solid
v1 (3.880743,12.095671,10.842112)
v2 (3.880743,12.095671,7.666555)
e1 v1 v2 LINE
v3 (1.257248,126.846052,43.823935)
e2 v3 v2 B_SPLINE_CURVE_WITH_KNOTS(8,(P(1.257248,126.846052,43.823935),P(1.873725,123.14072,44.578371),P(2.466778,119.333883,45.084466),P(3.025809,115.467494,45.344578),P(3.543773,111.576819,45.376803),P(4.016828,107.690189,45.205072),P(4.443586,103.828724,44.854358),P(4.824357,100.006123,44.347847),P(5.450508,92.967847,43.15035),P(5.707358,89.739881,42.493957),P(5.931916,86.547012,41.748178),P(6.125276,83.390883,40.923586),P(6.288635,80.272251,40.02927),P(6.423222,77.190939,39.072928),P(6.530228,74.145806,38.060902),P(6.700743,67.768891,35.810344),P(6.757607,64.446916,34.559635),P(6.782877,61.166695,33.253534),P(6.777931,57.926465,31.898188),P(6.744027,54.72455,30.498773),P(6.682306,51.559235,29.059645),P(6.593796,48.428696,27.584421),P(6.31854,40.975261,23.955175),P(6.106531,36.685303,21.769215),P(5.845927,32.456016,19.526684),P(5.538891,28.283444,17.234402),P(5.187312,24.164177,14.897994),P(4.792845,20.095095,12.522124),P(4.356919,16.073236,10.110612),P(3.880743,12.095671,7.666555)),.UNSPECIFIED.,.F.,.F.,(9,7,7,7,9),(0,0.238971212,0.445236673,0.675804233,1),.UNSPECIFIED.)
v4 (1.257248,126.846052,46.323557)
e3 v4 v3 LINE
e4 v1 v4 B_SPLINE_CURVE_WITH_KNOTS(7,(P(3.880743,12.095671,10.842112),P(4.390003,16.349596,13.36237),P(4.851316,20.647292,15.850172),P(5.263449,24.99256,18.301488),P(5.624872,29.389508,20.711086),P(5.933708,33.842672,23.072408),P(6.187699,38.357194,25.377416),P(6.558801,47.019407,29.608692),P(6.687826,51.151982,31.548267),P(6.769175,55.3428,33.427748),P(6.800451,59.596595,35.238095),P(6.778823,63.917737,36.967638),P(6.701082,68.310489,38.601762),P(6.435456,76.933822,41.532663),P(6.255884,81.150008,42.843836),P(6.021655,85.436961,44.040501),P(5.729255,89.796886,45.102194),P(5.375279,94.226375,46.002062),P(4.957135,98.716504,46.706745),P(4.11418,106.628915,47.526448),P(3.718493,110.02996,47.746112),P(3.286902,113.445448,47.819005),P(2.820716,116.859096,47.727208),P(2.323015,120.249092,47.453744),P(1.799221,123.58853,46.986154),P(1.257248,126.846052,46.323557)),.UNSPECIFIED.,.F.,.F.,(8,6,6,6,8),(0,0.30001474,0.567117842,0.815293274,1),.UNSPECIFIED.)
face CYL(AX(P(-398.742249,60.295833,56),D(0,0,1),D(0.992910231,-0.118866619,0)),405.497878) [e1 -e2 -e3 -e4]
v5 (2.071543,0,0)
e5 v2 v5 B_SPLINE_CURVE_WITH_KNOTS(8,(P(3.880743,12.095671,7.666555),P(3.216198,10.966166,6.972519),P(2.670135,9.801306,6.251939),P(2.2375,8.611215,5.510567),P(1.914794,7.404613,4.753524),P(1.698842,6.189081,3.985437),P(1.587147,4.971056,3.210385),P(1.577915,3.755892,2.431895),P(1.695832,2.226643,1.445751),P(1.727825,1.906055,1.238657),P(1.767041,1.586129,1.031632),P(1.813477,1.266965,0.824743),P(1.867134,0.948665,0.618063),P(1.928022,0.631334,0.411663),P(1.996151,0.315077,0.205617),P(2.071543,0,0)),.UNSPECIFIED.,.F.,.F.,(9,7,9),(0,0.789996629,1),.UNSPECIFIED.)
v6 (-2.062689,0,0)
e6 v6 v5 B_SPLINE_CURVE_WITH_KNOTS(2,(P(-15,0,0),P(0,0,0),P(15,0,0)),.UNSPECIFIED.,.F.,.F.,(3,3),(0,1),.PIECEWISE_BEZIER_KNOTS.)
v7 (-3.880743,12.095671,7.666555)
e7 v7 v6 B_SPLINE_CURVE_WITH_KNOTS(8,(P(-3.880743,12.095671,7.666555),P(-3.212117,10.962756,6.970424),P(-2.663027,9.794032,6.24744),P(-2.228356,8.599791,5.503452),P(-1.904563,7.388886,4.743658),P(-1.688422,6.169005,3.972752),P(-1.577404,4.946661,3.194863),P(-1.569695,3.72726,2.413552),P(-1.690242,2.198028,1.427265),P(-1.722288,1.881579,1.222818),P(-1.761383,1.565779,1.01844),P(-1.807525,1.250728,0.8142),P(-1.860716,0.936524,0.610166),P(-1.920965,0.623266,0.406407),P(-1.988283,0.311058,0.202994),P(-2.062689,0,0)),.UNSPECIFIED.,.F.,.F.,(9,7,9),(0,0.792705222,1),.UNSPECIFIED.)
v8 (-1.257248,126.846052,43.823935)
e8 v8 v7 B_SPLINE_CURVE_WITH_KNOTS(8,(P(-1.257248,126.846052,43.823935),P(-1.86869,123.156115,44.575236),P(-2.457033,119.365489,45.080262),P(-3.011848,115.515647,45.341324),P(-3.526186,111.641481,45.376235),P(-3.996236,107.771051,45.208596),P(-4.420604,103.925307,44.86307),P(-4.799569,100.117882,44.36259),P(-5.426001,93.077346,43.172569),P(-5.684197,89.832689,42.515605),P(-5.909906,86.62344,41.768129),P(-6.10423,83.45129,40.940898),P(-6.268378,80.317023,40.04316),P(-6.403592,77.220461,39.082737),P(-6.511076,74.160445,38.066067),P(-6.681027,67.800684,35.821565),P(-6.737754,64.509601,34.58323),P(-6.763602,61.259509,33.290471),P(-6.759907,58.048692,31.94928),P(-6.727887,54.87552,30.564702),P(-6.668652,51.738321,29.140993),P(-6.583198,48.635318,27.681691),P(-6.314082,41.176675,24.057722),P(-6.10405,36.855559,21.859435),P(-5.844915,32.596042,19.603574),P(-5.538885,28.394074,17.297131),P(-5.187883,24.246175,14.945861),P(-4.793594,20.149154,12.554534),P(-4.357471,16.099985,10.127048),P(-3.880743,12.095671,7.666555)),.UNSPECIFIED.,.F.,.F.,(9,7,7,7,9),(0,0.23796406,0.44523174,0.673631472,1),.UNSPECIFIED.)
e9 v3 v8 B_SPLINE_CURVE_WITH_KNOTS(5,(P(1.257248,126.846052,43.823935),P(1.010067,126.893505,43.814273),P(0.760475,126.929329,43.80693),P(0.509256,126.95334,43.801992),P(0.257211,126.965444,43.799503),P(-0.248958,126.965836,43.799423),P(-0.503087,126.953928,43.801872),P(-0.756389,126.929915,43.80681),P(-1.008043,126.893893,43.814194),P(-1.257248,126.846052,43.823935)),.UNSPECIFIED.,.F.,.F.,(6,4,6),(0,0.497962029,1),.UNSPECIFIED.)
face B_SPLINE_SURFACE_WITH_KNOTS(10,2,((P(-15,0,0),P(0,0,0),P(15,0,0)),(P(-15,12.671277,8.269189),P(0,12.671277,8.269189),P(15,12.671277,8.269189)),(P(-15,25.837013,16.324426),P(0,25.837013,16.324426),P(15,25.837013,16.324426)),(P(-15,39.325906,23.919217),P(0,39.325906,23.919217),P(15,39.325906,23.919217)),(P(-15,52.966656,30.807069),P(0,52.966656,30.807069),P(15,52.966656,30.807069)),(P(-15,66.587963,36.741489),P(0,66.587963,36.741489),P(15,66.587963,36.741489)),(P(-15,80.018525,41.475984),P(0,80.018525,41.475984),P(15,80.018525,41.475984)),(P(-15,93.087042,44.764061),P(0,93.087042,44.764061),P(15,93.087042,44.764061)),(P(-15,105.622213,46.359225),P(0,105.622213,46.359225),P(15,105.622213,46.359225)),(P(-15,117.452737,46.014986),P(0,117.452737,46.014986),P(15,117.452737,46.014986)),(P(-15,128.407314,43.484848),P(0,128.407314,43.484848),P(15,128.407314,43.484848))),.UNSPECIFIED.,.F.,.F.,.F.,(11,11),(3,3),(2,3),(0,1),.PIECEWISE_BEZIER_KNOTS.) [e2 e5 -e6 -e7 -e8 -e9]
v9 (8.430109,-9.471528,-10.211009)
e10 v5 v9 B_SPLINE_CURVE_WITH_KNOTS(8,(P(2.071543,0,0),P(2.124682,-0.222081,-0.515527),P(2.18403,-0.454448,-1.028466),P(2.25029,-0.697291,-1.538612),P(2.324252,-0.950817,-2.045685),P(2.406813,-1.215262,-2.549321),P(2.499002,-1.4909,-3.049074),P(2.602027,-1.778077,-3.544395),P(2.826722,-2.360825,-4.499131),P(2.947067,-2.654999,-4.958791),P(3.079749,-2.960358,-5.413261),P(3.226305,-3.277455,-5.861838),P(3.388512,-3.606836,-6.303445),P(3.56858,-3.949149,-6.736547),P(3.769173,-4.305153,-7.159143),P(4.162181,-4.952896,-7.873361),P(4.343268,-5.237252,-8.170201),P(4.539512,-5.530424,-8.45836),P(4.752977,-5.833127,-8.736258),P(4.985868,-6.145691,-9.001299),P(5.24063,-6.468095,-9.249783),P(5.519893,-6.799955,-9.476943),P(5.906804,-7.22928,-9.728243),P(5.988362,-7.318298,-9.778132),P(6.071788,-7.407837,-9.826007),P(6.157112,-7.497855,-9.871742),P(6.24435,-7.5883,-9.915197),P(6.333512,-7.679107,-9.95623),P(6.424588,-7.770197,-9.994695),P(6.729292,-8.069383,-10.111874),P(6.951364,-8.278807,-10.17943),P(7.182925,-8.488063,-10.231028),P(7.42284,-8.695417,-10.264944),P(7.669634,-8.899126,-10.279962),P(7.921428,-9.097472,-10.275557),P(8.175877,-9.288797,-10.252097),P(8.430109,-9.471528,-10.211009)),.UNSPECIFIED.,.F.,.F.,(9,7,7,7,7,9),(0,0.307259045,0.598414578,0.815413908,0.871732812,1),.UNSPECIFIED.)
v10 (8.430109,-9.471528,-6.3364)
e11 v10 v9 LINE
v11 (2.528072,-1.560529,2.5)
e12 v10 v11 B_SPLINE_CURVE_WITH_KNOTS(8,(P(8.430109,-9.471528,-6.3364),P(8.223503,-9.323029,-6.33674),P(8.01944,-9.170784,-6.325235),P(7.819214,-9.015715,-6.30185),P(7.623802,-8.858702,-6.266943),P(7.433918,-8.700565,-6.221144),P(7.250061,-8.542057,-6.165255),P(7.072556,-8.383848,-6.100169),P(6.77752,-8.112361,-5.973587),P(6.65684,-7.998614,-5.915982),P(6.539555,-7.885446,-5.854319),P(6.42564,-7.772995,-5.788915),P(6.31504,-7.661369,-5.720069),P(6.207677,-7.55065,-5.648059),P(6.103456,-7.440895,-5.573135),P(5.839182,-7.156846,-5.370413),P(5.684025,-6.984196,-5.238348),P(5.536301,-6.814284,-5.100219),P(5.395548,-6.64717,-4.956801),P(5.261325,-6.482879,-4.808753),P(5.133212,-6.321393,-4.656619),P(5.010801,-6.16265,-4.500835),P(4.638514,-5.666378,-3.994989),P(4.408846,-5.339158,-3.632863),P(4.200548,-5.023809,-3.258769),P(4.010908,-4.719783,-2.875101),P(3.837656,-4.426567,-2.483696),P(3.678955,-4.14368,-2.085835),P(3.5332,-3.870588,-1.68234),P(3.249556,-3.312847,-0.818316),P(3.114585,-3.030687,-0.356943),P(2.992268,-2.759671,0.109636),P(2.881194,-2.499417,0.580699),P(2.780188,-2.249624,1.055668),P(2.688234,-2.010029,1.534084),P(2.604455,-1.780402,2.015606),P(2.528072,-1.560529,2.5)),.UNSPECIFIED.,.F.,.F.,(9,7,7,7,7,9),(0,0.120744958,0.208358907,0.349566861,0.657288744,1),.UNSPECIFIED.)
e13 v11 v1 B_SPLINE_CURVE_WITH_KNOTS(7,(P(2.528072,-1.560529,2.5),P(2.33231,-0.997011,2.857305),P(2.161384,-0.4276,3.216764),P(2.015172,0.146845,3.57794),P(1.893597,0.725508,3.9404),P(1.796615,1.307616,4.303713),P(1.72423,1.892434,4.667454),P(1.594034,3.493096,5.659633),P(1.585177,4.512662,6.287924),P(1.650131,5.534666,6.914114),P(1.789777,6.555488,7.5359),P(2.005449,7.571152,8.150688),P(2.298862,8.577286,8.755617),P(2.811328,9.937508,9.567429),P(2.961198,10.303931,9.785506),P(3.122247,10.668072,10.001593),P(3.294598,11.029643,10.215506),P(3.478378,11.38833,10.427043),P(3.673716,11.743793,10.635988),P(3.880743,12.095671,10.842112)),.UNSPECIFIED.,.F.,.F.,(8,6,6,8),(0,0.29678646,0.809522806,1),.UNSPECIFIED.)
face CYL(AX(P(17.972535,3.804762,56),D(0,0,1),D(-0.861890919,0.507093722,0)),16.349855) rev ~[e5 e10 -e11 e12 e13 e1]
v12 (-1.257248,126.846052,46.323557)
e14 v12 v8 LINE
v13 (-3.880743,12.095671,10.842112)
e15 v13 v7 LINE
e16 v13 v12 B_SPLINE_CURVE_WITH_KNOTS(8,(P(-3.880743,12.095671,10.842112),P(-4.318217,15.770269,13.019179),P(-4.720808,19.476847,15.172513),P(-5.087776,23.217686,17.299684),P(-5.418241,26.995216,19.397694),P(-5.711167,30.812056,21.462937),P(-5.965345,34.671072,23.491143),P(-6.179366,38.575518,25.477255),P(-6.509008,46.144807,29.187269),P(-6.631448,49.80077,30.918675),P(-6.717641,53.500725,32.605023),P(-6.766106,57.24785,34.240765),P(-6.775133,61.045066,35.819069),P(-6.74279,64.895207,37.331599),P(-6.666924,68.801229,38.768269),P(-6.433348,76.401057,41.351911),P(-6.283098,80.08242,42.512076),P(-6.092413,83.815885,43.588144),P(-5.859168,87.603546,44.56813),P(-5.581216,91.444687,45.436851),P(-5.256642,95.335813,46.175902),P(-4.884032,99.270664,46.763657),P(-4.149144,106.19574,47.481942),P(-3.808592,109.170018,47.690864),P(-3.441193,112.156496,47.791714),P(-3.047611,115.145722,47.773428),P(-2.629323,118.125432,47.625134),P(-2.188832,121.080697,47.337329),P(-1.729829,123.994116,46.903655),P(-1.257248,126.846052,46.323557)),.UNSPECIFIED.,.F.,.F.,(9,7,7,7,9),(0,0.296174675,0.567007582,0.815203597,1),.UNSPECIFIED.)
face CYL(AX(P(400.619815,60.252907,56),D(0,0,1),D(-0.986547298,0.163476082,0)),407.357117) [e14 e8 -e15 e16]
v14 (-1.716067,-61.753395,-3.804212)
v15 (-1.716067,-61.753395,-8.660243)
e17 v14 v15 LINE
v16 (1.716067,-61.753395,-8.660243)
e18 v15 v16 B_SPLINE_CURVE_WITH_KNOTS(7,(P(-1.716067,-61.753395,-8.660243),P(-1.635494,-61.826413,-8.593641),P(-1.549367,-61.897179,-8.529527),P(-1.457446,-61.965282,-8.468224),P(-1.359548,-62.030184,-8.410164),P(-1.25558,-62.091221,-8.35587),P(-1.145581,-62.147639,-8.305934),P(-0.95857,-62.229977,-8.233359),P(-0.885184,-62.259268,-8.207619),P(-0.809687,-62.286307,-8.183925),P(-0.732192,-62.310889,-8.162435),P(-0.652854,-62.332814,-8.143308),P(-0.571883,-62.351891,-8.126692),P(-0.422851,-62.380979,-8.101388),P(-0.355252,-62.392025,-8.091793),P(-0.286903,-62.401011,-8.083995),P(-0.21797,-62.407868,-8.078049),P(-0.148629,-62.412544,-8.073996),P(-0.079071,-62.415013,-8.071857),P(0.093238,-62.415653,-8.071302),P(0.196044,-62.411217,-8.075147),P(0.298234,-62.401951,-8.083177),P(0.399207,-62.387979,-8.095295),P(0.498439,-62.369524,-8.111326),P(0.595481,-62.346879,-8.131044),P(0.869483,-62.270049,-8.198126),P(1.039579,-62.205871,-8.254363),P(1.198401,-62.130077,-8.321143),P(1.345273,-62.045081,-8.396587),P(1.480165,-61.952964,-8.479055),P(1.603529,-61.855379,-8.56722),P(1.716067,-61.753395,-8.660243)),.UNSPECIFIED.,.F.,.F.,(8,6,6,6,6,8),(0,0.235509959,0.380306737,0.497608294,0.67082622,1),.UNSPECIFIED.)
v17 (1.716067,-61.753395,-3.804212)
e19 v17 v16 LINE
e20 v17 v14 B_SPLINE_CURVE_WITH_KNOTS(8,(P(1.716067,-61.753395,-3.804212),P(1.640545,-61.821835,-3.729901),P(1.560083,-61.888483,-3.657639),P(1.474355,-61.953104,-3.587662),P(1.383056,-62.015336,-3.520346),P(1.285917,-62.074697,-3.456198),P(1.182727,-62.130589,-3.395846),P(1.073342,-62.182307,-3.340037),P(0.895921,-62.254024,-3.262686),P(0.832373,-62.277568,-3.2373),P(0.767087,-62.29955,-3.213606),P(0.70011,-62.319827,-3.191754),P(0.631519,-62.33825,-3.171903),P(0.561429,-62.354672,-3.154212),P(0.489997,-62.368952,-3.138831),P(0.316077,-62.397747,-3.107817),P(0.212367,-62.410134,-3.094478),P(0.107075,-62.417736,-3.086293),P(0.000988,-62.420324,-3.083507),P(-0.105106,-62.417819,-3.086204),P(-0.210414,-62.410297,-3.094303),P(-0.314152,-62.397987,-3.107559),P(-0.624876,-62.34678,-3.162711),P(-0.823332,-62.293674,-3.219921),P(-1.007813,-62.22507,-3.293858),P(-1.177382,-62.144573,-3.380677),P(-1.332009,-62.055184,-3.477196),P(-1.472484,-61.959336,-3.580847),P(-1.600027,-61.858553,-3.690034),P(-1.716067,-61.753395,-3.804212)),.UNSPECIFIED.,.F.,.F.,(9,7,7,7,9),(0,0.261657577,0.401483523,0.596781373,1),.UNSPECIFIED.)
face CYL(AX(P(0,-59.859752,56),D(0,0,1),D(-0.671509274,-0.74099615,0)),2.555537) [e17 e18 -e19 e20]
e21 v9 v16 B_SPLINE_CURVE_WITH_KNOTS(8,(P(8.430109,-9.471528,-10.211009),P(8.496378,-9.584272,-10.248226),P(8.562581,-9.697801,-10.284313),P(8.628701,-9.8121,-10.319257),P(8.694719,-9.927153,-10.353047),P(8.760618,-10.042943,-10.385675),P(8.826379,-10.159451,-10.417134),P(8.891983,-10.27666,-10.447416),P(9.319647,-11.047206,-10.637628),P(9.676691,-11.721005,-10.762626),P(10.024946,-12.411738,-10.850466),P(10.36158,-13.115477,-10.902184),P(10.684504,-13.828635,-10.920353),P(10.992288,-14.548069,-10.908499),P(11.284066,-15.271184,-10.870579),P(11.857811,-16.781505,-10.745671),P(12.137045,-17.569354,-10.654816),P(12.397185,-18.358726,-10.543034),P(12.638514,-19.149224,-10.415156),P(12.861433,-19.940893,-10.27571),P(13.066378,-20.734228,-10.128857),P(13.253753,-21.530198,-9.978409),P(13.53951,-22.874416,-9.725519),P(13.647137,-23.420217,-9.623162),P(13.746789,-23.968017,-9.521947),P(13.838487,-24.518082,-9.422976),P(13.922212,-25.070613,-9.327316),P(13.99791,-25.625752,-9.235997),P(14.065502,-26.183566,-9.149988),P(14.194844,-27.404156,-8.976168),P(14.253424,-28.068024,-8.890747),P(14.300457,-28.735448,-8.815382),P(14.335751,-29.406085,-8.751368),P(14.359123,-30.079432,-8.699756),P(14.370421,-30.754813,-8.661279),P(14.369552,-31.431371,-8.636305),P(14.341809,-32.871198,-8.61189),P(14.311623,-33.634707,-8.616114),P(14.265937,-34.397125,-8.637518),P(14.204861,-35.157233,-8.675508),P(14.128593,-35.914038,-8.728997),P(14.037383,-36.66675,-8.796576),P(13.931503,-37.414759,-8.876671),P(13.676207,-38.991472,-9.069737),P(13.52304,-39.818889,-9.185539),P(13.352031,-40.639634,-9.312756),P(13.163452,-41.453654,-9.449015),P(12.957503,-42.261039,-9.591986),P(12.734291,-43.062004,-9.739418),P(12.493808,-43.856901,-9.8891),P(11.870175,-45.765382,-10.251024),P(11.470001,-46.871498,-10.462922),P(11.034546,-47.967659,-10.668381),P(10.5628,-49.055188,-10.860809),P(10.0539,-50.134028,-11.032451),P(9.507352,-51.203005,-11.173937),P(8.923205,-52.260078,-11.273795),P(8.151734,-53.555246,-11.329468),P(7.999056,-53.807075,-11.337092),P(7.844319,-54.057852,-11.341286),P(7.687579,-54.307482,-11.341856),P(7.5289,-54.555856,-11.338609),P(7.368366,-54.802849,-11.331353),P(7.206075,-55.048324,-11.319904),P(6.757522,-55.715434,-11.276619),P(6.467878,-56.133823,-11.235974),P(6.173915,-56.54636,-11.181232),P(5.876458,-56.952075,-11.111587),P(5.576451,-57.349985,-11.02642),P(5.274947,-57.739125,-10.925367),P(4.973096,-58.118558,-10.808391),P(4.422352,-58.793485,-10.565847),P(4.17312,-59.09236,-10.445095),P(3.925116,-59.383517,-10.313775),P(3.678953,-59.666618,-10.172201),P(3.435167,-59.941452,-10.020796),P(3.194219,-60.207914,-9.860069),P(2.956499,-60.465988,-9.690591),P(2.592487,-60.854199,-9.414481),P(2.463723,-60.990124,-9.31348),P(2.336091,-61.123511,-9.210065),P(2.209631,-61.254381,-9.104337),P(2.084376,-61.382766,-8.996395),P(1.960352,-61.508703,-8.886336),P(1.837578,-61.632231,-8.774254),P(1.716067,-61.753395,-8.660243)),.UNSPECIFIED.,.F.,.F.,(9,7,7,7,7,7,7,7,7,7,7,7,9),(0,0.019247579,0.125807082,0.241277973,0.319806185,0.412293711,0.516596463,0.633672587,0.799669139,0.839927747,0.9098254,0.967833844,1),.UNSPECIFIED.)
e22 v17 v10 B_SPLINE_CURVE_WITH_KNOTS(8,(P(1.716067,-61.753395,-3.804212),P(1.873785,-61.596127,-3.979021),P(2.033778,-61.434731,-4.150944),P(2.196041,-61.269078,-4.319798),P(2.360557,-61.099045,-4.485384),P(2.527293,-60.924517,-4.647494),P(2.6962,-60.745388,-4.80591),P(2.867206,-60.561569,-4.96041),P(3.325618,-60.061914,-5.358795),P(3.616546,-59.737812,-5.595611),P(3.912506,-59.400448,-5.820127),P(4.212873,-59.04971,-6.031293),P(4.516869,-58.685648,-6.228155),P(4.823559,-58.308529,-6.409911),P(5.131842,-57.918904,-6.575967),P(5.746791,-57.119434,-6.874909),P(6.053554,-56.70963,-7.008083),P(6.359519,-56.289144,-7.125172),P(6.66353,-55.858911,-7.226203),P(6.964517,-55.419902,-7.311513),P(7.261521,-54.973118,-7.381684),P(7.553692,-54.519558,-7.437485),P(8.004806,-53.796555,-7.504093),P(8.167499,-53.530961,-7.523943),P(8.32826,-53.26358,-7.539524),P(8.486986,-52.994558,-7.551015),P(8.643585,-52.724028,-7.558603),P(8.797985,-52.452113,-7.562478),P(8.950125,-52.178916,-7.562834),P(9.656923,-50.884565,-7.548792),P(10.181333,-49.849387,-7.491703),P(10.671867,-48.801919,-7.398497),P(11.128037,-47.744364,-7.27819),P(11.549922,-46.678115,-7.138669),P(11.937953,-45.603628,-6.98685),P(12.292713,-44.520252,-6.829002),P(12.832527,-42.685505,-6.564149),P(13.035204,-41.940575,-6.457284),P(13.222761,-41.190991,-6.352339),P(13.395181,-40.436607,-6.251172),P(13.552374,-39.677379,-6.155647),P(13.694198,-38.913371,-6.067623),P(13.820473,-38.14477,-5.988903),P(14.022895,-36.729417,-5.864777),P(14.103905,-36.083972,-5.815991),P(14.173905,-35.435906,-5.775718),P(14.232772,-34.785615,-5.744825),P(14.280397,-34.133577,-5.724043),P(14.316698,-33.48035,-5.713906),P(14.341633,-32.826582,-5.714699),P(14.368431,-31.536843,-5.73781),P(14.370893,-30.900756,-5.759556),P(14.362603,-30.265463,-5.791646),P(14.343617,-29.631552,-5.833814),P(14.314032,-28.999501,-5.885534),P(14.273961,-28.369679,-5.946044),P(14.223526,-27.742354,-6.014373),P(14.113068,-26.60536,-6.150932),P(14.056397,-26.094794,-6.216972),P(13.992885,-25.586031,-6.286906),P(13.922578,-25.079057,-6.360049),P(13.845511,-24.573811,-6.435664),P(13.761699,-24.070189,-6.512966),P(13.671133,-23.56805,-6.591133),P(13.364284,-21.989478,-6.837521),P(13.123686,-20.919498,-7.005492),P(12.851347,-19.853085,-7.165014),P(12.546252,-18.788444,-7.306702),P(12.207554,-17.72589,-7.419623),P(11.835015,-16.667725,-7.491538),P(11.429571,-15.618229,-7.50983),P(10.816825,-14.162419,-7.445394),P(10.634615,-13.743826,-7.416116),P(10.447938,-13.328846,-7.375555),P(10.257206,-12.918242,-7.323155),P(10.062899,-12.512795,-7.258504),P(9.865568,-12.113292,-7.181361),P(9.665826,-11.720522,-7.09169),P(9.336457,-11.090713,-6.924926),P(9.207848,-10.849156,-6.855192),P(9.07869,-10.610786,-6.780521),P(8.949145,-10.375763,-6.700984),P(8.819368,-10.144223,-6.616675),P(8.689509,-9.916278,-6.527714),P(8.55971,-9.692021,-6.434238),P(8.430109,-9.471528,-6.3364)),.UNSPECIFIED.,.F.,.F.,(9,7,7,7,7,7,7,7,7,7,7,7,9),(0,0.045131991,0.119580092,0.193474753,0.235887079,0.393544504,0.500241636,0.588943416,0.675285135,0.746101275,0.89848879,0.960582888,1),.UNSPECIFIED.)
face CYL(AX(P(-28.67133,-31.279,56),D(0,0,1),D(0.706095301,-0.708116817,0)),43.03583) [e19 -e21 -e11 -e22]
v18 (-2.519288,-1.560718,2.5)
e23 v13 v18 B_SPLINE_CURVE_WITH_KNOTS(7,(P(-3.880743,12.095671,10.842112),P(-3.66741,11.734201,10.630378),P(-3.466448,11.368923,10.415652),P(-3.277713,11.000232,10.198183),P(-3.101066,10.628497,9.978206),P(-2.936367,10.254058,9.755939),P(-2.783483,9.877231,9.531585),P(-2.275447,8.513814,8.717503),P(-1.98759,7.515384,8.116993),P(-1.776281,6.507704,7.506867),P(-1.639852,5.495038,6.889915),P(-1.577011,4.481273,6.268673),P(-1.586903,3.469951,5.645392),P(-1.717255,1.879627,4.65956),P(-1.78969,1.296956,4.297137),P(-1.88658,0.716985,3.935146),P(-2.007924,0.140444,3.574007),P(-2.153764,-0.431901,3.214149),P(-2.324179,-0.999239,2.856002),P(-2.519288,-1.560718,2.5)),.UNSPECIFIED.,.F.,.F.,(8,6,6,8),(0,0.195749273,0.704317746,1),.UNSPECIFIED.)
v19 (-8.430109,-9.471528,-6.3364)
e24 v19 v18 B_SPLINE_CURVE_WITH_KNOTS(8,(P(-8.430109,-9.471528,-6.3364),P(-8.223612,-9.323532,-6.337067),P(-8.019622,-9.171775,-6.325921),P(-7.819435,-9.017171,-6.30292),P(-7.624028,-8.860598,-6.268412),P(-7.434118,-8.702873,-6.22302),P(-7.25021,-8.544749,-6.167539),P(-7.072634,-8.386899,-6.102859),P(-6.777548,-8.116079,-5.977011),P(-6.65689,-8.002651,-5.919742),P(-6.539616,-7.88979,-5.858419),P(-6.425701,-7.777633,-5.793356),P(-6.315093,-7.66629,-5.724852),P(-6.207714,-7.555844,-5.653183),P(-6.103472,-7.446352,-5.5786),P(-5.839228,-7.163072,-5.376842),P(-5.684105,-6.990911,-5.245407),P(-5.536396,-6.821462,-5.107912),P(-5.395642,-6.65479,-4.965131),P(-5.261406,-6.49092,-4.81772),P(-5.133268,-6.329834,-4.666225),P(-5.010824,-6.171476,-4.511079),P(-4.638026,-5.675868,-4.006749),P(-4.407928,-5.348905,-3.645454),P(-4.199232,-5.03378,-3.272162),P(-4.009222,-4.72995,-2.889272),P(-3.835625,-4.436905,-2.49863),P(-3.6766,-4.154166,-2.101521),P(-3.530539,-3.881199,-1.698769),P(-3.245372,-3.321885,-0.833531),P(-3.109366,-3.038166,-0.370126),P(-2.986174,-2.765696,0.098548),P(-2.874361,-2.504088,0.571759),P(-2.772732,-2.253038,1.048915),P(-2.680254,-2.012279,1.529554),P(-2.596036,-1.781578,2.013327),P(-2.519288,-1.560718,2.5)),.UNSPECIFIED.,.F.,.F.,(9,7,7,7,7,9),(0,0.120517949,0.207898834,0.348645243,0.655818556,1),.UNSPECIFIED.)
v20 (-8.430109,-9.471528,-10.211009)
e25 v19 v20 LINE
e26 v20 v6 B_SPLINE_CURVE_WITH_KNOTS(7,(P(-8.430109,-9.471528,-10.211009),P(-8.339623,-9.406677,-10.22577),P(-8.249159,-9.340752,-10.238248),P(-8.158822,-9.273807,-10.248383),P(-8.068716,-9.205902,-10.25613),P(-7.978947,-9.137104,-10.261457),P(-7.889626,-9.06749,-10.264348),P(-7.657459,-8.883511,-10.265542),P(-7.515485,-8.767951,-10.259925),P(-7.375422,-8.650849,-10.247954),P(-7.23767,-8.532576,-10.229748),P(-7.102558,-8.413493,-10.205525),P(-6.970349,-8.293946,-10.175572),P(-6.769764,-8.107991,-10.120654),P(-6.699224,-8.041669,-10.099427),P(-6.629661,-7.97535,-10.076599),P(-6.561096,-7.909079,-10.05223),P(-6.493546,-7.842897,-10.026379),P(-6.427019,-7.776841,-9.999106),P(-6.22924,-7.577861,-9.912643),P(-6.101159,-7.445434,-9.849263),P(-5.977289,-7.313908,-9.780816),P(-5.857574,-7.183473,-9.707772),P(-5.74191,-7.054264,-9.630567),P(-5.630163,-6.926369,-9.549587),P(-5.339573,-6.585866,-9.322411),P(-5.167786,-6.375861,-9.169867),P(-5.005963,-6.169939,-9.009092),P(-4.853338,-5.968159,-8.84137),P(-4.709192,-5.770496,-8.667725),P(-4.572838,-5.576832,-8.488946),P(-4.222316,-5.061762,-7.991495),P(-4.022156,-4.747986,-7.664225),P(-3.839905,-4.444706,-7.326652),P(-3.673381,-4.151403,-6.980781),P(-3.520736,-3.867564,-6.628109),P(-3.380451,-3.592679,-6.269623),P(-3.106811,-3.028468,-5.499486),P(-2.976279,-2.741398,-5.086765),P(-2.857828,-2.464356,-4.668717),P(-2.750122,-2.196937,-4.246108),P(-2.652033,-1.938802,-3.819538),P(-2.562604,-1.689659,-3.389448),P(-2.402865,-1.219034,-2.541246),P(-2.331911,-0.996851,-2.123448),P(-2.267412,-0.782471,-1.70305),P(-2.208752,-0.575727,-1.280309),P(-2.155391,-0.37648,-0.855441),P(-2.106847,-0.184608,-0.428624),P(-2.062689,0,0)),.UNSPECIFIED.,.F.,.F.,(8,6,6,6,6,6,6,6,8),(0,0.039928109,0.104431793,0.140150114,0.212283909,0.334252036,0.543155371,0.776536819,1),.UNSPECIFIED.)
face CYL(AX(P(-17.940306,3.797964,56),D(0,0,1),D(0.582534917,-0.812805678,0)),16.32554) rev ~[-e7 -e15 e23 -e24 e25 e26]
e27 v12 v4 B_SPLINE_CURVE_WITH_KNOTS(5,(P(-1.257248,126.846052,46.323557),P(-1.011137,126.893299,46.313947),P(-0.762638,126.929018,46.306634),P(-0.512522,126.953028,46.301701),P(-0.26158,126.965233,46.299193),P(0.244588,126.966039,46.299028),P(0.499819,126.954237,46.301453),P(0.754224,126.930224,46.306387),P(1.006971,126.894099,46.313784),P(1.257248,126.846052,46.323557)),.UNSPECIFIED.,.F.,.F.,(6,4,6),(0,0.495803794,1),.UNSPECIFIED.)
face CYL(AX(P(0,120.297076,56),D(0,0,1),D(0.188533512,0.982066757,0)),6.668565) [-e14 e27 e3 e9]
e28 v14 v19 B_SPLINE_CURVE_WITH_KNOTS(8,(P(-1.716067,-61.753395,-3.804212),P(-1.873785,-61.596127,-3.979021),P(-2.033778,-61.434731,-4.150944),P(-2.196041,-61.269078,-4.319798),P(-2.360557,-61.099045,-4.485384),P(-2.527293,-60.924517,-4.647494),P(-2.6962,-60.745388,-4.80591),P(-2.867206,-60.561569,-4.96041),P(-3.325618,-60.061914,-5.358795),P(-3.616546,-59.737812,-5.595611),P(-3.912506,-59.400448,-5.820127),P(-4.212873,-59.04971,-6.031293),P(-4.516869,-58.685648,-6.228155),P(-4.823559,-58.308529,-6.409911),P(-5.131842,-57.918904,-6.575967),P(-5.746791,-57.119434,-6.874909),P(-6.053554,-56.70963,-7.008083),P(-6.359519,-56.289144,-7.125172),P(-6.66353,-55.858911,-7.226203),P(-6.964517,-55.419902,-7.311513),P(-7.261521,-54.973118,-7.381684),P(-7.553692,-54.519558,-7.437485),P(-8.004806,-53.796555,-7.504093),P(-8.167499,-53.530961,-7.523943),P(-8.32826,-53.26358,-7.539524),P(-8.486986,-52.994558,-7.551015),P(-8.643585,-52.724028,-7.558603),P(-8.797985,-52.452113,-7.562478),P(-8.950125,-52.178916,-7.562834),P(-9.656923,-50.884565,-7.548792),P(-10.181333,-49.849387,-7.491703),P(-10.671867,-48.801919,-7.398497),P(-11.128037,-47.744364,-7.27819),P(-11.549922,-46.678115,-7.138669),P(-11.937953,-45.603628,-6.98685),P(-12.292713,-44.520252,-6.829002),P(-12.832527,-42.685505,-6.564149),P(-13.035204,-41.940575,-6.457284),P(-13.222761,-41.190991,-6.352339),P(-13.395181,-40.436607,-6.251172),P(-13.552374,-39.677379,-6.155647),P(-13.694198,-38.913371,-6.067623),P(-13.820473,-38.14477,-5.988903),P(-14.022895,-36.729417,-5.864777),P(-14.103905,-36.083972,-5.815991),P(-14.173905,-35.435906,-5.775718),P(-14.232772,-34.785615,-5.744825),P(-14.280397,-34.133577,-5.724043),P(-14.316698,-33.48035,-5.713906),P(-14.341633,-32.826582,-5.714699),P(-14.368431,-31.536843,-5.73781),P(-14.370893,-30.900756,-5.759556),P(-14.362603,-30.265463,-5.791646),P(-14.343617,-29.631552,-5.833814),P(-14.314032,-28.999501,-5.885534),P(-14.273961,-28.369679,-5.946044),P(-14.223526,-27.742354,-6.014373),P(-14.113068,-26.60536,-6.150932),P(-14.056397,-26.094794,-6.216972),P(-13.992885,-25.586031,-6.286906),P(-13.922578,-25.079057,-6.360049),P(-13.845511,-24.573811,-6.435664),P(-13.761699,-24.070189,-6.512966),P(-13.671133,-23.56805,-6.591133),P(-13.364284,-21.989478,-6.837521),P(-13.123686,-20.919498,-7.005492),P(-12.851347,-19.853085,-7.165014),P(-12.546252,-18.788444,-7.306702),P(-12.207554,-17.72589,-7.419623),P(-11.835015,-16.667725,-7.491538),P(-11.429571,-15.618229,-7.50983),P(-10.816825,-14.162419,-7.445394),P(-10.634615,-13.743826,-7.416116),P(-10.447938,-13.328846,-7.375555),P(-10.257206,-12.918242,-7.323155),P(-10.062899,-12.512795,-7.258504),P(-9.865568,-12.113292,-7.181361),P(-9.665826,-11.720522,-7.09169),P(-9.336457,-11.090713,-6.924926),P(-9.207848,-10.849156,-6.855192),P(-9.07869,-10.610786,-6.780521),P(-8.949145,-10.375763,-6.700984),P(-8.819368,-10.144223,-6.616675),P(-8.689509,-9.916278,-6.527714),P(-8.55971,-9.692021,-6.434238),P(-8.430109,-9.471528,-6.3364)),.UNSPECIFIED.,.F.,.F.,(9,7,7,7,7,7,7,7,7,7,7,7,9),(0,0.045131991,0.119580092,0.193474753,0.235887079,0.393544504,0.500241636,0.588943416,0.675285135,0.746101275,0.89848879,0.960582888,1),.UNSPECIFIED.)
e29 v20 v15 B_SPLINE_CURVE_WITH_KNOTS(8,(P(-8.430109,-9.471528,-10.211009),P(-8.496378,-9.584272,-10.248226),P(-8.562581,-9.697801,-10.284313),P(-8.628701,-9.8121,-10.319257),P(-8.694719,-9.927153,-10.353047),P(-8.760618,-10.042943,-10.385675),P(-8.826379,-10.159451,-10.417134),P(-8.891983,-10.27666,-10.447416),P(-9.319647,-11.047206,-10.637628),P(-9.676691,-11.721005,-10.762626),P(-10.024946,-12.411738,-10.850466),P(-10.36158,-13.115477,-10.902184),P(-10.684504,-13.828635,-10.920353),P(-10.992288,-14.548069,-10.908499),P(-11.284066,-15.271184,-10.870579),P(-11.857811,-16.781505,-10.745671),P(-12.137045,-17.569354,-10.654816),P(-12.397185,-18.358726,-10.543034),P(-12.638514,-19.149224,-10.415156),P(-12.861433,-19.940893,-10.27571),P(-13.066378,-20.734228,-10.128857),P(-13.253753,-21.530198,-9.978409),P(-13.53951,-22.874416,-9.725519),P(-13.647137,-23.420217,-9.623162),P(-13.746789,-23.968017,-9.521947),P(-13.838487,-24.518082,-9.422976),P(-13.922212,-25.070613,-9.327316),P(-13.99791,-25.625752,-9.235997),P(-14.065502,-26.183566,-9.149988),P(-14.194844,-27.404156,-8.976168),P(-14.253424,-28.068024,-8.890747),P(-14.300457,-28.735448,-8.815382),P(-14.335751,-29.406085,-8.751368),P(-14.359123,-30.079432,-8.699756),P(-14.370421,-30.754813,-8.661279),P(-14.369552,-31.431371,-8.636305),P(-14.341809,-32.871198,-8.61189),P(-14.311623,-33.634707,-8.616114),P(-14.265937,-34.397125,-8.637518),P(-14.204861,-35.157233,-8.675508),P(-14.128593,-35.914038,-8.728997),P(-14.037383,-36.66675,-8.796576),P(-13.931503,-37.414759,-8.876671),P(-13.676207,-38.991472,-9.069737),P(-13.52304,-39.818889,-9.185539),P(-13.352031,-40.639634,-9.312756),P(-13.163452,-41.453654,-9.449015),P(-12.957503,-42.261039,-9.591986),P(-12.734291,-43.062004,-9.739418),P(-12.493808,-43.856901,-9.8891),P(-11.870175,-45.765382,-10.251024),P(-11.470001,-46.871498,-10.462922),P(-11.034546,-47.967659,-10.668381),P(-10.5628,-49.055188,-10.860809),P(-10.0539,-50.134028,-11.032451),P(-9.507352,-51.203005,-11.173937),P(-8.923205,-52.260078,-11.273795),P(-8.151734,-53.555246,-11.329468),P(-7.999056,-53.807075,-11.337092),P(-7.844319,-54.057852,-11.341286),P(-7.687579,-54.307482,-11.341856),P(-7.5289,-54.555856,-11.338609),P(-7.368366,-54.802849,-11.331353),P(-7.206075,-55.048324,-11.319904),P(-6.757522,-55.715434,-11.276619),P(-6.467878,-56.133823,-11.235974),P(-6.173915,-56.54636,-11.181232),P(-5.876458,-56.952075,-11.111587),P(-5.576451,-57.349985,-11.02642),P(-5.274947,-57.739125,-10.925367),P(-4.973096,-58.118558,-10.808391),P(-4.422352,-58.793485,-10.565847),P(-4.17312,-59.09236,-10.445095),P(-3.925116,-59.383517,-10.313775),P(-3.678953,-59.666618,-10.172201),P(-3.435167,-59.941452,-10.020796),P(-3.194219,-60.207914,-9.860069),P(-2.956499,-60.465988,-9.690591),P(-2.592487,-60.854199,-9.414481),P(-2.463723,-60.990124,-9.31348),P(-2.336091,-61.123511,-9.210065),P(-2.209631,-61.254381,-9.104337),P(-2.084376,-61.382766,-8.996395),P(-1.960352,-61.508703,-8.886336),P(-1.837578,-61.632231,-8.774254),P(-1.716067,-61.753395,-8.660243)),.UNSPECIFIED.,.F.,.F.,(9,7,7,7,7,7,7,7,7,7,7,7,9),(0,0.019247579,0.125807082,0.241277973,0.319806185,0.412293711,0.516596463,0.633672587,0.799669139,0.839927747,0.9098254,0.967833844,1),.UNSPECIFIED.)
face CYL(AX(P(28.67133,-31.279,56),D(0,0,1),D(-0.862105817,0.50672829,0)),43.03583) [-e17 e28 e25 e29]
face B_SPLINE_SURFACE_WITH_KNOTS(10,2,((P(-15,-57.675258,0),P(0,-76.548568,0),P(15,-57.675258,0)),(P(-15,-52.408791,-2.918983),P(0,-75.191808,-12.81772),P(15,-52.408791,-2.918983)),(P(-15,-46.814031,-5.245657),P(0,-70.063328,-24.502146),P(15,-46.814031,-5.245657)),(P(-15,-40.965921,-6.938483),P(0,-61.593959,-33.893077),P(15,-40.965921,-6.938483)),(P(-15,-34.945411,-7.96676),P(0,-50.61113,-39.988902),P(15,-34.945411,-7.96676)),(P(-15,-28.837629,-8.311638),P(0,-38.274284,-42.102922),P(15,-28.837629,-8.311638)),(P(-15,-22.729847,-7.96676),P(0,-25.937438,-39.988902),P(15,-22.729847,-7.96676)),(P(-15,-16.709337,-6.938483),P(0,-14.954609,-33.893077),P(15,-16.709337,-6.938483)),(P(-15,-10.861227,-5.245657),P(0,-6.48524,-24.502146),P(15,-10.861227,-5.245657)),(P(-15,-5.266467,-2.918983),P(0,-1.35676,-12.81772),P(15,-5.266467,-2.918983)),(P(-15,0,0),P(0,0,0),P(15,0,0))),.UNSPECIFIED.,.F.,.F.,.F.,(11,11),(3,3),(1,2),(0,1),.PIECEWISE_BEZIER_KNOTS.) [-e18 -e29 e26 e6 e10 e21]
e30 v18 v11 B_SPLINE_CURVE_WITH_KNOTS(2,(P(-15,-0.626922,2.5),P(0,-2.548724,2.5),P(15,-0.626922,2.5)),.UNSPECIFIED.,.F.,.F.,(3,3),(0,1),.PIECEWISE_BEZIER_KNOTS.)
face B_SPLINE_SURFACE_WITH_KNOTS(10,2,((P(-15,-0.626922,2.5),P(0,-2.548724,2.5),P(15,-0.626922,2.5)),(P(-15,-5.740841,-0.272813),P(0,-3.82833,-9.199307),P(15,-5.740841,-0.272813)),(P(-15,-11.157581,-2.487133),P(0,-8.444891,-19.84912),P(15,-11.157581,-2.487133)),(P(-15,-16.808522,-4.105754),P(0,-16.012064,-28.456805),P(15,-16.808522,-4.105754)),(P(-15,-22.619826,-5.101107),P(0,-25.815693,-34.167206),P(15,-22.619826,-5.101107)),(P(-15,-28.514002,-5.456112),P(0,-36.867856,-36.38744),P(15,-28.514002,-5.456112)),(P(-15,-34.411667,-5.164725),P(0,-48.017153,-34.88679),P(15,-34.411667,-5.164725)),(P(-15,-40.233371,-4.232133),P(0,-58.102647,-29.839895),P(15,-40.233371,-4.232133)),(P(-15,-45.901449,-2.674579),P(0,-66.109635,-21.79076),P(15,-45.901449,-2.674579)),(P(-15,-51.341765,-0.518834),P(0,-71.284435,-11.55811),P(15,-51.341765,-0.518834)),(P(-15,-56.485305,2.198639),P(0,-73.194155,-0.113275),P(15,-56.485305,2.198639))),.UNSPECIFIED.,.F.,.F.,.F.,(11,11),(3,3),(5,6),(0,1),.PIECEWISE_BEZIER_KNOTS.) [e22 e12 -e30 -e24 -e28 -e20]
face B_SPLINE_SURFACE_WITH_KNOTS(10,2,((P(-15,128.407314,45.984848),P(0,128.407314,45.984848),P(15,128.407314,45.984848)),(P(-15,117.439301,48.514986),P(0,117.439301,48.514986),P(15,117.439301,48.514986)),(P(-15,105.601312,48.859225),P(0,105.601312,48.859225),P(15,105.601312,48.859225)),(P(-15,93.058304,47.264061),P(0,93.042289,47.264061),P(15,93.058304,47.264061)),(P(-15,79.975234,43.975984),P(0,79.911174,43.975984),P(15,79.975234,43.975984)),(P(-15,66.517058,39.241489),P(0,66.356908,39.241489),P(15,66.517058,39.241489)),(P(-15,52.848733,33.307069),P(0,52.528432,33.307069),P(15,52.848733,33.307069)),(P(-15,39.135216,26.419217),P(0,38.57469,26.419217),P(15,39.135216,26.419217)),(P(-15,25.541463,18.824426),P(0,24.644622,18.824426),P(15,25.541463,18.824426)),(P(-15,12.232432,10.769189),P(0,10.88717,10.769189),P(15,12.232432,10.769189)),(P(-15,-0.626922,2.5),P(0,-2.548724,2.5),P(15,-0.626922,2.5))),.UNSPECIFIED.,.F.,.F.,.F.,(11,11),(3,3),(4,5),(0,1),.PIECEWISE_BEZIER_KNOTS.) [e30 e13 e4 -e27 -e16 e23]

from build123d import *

# Parameters (mm, degrees)
EXTRUDE003_DEPTH = 80


with BuildPart() as extrude003:
    # Sketch005 → Extrude003 (new body)
    with BuildSketch(Plane.XY.offset(56)):
        with BuildLine():
            ThreePointArc((-1.257248, 126.846052), (-6.630881, 69.563727), (-3.880743, 12.095671))
            ThreePointArc((-8.430109, -9.471528), (-1.966283, 0.428417), (-3.880743, 12.095671))
            ThreePointArc((-8.430109, -9.471528), (-14.013962, -36.760649), (-1.716067, -61.753395))
            ThreePointArc((-1.716067, -61.753395), (0, -62.415289), (1.716067, -61.753395))
            ThreePointArc((1.716067, -61.753395), (14.013962, -36.760649), (8.430109, -9.471528))
            ThreePointArc((3.880743, 12.095671), (1.97472, 0.430197), (8.430109, -9.471528))
            ThreePointArc((3.880743, 12.095671), (6.649694, 69.564157), (1.257248, 126.846052))
            ThreePointArc((1.257248, 126.846052), (0, 126.965641), (-1.257248, 126.846052))
        make_face()
    extrude(amount=-EXTRUDE003_DEPTH)


with BuildPart() as common001:
    # Sketch002 → Loft section 0
    with BuildSketch(Plane.YZ.offset(-15)):
        with BuildLine():
            ThreePointArc((-56.485305, 2.198639), (-58.168632, 1.688359), (-57.675258, 0))
            ThreePointArc((-57.675258, 0), (-28.837629, -7.457321), (0, 0))
            add(Edge.make_bspline(
                [(0, 0), (42.23759, 27.563965), (91.892059, 51.91864), (128.407314, 43.484848)],
                knots=[0, 0, 0, 0, 1, 1, 1, 1], degree=3))
            ThreePointArc((128.407314, 43.484848), (129.387159, 44.734848), (128.407314, 45.984848))
            add(Edge.make_bspline(
                [(-0.626922, 2.5), (42.23759, 30.063965), (91.84727, 54.41864), (128.407314, 45.984848)],
                knots=[0, 0, 0, 0, 1, 1, 1, 1], degree=3))
            ThreePointArc((-0.626922, 2.5), (-28.518324, -4.655084), (-56.485305, 2.198639))
        make_face()
    # Sketch003 → Loft section 1
    with BuildSketch(Plane.YZ):
        with BuildLine():
            ThreePointArc((-64.83973, 1.042682), (-66.480817, 1.621814), (-67.111913, 0))
            ThreePointArc((-67.111913, 0), (-33.555956, -22.283915), (0, 0))
            add(Edge.make_bspline(
                [(0, 0), (42.23759, 27.563965), (91.892059, 51.91864), (128.407314, 43.484848)],
                knots=[0, 0, 0, 0, 1, 1, 1, 1], degree=3))
            ThreePointArc((128.407314, 43.484848), (129.387159, 44.734848), (128.407314, 45.984848))
            add(Edge.make_bspline(
                [(-1.587823, 2.5), (42.23759, 30.063965), (91.84727, 54.41864), (128.407314, 45.984848)],
                knots=[0, 0, 0, 0, 1, 1, 1, 1], degree=3))
            ThreePointArc((-1.587823, 2.5), (-32.750953, -18.316585), (-64.83973, 1.042682))
        make_face()
    # Sketch004 → Loft section 2
    with BuildSketch(Plane.YZ.offset(15)):
        with BuildLine():
            ThreePointArc((-56.485305, 2.198639), (-58.168632, 1.688359), (-57.675258, 0))
            ThreePointArc((-57.675258, 0), (-28.837629, -7.457321), (0, 0))
            add(Edge.make_bspline(
                [(0, 0), (42.23759, 27.563965), (91.892059, 51.91864), (128.407314, 43.484848)],
                knots=[0, 0, 0, 0, 1, 1, 1, 1], degree=3))
            ThreePointArc((128.407314, 43.484848), (129.387159, 44.734848), (128.407314, 45.984848))
            add(Edge.make_bspline(
                [(-0.626922, 2.5), (42.23759, 30.063965), (91.84727, 54.41864), (128.407314, 45.984848)],
                knots=[0, 0, 0, 0, 1, 1, 1, 1], degree=3))
            ThreePointArc((-0.626922, 2.5), (-28.518324, -4.655084), (-56.485305, 2.198639))
        make_face()
    loft()

    # Common001: intersect Extrude003
    add(extrude003.part, mode=Mode.INTERSECT)


solid = common001.part
